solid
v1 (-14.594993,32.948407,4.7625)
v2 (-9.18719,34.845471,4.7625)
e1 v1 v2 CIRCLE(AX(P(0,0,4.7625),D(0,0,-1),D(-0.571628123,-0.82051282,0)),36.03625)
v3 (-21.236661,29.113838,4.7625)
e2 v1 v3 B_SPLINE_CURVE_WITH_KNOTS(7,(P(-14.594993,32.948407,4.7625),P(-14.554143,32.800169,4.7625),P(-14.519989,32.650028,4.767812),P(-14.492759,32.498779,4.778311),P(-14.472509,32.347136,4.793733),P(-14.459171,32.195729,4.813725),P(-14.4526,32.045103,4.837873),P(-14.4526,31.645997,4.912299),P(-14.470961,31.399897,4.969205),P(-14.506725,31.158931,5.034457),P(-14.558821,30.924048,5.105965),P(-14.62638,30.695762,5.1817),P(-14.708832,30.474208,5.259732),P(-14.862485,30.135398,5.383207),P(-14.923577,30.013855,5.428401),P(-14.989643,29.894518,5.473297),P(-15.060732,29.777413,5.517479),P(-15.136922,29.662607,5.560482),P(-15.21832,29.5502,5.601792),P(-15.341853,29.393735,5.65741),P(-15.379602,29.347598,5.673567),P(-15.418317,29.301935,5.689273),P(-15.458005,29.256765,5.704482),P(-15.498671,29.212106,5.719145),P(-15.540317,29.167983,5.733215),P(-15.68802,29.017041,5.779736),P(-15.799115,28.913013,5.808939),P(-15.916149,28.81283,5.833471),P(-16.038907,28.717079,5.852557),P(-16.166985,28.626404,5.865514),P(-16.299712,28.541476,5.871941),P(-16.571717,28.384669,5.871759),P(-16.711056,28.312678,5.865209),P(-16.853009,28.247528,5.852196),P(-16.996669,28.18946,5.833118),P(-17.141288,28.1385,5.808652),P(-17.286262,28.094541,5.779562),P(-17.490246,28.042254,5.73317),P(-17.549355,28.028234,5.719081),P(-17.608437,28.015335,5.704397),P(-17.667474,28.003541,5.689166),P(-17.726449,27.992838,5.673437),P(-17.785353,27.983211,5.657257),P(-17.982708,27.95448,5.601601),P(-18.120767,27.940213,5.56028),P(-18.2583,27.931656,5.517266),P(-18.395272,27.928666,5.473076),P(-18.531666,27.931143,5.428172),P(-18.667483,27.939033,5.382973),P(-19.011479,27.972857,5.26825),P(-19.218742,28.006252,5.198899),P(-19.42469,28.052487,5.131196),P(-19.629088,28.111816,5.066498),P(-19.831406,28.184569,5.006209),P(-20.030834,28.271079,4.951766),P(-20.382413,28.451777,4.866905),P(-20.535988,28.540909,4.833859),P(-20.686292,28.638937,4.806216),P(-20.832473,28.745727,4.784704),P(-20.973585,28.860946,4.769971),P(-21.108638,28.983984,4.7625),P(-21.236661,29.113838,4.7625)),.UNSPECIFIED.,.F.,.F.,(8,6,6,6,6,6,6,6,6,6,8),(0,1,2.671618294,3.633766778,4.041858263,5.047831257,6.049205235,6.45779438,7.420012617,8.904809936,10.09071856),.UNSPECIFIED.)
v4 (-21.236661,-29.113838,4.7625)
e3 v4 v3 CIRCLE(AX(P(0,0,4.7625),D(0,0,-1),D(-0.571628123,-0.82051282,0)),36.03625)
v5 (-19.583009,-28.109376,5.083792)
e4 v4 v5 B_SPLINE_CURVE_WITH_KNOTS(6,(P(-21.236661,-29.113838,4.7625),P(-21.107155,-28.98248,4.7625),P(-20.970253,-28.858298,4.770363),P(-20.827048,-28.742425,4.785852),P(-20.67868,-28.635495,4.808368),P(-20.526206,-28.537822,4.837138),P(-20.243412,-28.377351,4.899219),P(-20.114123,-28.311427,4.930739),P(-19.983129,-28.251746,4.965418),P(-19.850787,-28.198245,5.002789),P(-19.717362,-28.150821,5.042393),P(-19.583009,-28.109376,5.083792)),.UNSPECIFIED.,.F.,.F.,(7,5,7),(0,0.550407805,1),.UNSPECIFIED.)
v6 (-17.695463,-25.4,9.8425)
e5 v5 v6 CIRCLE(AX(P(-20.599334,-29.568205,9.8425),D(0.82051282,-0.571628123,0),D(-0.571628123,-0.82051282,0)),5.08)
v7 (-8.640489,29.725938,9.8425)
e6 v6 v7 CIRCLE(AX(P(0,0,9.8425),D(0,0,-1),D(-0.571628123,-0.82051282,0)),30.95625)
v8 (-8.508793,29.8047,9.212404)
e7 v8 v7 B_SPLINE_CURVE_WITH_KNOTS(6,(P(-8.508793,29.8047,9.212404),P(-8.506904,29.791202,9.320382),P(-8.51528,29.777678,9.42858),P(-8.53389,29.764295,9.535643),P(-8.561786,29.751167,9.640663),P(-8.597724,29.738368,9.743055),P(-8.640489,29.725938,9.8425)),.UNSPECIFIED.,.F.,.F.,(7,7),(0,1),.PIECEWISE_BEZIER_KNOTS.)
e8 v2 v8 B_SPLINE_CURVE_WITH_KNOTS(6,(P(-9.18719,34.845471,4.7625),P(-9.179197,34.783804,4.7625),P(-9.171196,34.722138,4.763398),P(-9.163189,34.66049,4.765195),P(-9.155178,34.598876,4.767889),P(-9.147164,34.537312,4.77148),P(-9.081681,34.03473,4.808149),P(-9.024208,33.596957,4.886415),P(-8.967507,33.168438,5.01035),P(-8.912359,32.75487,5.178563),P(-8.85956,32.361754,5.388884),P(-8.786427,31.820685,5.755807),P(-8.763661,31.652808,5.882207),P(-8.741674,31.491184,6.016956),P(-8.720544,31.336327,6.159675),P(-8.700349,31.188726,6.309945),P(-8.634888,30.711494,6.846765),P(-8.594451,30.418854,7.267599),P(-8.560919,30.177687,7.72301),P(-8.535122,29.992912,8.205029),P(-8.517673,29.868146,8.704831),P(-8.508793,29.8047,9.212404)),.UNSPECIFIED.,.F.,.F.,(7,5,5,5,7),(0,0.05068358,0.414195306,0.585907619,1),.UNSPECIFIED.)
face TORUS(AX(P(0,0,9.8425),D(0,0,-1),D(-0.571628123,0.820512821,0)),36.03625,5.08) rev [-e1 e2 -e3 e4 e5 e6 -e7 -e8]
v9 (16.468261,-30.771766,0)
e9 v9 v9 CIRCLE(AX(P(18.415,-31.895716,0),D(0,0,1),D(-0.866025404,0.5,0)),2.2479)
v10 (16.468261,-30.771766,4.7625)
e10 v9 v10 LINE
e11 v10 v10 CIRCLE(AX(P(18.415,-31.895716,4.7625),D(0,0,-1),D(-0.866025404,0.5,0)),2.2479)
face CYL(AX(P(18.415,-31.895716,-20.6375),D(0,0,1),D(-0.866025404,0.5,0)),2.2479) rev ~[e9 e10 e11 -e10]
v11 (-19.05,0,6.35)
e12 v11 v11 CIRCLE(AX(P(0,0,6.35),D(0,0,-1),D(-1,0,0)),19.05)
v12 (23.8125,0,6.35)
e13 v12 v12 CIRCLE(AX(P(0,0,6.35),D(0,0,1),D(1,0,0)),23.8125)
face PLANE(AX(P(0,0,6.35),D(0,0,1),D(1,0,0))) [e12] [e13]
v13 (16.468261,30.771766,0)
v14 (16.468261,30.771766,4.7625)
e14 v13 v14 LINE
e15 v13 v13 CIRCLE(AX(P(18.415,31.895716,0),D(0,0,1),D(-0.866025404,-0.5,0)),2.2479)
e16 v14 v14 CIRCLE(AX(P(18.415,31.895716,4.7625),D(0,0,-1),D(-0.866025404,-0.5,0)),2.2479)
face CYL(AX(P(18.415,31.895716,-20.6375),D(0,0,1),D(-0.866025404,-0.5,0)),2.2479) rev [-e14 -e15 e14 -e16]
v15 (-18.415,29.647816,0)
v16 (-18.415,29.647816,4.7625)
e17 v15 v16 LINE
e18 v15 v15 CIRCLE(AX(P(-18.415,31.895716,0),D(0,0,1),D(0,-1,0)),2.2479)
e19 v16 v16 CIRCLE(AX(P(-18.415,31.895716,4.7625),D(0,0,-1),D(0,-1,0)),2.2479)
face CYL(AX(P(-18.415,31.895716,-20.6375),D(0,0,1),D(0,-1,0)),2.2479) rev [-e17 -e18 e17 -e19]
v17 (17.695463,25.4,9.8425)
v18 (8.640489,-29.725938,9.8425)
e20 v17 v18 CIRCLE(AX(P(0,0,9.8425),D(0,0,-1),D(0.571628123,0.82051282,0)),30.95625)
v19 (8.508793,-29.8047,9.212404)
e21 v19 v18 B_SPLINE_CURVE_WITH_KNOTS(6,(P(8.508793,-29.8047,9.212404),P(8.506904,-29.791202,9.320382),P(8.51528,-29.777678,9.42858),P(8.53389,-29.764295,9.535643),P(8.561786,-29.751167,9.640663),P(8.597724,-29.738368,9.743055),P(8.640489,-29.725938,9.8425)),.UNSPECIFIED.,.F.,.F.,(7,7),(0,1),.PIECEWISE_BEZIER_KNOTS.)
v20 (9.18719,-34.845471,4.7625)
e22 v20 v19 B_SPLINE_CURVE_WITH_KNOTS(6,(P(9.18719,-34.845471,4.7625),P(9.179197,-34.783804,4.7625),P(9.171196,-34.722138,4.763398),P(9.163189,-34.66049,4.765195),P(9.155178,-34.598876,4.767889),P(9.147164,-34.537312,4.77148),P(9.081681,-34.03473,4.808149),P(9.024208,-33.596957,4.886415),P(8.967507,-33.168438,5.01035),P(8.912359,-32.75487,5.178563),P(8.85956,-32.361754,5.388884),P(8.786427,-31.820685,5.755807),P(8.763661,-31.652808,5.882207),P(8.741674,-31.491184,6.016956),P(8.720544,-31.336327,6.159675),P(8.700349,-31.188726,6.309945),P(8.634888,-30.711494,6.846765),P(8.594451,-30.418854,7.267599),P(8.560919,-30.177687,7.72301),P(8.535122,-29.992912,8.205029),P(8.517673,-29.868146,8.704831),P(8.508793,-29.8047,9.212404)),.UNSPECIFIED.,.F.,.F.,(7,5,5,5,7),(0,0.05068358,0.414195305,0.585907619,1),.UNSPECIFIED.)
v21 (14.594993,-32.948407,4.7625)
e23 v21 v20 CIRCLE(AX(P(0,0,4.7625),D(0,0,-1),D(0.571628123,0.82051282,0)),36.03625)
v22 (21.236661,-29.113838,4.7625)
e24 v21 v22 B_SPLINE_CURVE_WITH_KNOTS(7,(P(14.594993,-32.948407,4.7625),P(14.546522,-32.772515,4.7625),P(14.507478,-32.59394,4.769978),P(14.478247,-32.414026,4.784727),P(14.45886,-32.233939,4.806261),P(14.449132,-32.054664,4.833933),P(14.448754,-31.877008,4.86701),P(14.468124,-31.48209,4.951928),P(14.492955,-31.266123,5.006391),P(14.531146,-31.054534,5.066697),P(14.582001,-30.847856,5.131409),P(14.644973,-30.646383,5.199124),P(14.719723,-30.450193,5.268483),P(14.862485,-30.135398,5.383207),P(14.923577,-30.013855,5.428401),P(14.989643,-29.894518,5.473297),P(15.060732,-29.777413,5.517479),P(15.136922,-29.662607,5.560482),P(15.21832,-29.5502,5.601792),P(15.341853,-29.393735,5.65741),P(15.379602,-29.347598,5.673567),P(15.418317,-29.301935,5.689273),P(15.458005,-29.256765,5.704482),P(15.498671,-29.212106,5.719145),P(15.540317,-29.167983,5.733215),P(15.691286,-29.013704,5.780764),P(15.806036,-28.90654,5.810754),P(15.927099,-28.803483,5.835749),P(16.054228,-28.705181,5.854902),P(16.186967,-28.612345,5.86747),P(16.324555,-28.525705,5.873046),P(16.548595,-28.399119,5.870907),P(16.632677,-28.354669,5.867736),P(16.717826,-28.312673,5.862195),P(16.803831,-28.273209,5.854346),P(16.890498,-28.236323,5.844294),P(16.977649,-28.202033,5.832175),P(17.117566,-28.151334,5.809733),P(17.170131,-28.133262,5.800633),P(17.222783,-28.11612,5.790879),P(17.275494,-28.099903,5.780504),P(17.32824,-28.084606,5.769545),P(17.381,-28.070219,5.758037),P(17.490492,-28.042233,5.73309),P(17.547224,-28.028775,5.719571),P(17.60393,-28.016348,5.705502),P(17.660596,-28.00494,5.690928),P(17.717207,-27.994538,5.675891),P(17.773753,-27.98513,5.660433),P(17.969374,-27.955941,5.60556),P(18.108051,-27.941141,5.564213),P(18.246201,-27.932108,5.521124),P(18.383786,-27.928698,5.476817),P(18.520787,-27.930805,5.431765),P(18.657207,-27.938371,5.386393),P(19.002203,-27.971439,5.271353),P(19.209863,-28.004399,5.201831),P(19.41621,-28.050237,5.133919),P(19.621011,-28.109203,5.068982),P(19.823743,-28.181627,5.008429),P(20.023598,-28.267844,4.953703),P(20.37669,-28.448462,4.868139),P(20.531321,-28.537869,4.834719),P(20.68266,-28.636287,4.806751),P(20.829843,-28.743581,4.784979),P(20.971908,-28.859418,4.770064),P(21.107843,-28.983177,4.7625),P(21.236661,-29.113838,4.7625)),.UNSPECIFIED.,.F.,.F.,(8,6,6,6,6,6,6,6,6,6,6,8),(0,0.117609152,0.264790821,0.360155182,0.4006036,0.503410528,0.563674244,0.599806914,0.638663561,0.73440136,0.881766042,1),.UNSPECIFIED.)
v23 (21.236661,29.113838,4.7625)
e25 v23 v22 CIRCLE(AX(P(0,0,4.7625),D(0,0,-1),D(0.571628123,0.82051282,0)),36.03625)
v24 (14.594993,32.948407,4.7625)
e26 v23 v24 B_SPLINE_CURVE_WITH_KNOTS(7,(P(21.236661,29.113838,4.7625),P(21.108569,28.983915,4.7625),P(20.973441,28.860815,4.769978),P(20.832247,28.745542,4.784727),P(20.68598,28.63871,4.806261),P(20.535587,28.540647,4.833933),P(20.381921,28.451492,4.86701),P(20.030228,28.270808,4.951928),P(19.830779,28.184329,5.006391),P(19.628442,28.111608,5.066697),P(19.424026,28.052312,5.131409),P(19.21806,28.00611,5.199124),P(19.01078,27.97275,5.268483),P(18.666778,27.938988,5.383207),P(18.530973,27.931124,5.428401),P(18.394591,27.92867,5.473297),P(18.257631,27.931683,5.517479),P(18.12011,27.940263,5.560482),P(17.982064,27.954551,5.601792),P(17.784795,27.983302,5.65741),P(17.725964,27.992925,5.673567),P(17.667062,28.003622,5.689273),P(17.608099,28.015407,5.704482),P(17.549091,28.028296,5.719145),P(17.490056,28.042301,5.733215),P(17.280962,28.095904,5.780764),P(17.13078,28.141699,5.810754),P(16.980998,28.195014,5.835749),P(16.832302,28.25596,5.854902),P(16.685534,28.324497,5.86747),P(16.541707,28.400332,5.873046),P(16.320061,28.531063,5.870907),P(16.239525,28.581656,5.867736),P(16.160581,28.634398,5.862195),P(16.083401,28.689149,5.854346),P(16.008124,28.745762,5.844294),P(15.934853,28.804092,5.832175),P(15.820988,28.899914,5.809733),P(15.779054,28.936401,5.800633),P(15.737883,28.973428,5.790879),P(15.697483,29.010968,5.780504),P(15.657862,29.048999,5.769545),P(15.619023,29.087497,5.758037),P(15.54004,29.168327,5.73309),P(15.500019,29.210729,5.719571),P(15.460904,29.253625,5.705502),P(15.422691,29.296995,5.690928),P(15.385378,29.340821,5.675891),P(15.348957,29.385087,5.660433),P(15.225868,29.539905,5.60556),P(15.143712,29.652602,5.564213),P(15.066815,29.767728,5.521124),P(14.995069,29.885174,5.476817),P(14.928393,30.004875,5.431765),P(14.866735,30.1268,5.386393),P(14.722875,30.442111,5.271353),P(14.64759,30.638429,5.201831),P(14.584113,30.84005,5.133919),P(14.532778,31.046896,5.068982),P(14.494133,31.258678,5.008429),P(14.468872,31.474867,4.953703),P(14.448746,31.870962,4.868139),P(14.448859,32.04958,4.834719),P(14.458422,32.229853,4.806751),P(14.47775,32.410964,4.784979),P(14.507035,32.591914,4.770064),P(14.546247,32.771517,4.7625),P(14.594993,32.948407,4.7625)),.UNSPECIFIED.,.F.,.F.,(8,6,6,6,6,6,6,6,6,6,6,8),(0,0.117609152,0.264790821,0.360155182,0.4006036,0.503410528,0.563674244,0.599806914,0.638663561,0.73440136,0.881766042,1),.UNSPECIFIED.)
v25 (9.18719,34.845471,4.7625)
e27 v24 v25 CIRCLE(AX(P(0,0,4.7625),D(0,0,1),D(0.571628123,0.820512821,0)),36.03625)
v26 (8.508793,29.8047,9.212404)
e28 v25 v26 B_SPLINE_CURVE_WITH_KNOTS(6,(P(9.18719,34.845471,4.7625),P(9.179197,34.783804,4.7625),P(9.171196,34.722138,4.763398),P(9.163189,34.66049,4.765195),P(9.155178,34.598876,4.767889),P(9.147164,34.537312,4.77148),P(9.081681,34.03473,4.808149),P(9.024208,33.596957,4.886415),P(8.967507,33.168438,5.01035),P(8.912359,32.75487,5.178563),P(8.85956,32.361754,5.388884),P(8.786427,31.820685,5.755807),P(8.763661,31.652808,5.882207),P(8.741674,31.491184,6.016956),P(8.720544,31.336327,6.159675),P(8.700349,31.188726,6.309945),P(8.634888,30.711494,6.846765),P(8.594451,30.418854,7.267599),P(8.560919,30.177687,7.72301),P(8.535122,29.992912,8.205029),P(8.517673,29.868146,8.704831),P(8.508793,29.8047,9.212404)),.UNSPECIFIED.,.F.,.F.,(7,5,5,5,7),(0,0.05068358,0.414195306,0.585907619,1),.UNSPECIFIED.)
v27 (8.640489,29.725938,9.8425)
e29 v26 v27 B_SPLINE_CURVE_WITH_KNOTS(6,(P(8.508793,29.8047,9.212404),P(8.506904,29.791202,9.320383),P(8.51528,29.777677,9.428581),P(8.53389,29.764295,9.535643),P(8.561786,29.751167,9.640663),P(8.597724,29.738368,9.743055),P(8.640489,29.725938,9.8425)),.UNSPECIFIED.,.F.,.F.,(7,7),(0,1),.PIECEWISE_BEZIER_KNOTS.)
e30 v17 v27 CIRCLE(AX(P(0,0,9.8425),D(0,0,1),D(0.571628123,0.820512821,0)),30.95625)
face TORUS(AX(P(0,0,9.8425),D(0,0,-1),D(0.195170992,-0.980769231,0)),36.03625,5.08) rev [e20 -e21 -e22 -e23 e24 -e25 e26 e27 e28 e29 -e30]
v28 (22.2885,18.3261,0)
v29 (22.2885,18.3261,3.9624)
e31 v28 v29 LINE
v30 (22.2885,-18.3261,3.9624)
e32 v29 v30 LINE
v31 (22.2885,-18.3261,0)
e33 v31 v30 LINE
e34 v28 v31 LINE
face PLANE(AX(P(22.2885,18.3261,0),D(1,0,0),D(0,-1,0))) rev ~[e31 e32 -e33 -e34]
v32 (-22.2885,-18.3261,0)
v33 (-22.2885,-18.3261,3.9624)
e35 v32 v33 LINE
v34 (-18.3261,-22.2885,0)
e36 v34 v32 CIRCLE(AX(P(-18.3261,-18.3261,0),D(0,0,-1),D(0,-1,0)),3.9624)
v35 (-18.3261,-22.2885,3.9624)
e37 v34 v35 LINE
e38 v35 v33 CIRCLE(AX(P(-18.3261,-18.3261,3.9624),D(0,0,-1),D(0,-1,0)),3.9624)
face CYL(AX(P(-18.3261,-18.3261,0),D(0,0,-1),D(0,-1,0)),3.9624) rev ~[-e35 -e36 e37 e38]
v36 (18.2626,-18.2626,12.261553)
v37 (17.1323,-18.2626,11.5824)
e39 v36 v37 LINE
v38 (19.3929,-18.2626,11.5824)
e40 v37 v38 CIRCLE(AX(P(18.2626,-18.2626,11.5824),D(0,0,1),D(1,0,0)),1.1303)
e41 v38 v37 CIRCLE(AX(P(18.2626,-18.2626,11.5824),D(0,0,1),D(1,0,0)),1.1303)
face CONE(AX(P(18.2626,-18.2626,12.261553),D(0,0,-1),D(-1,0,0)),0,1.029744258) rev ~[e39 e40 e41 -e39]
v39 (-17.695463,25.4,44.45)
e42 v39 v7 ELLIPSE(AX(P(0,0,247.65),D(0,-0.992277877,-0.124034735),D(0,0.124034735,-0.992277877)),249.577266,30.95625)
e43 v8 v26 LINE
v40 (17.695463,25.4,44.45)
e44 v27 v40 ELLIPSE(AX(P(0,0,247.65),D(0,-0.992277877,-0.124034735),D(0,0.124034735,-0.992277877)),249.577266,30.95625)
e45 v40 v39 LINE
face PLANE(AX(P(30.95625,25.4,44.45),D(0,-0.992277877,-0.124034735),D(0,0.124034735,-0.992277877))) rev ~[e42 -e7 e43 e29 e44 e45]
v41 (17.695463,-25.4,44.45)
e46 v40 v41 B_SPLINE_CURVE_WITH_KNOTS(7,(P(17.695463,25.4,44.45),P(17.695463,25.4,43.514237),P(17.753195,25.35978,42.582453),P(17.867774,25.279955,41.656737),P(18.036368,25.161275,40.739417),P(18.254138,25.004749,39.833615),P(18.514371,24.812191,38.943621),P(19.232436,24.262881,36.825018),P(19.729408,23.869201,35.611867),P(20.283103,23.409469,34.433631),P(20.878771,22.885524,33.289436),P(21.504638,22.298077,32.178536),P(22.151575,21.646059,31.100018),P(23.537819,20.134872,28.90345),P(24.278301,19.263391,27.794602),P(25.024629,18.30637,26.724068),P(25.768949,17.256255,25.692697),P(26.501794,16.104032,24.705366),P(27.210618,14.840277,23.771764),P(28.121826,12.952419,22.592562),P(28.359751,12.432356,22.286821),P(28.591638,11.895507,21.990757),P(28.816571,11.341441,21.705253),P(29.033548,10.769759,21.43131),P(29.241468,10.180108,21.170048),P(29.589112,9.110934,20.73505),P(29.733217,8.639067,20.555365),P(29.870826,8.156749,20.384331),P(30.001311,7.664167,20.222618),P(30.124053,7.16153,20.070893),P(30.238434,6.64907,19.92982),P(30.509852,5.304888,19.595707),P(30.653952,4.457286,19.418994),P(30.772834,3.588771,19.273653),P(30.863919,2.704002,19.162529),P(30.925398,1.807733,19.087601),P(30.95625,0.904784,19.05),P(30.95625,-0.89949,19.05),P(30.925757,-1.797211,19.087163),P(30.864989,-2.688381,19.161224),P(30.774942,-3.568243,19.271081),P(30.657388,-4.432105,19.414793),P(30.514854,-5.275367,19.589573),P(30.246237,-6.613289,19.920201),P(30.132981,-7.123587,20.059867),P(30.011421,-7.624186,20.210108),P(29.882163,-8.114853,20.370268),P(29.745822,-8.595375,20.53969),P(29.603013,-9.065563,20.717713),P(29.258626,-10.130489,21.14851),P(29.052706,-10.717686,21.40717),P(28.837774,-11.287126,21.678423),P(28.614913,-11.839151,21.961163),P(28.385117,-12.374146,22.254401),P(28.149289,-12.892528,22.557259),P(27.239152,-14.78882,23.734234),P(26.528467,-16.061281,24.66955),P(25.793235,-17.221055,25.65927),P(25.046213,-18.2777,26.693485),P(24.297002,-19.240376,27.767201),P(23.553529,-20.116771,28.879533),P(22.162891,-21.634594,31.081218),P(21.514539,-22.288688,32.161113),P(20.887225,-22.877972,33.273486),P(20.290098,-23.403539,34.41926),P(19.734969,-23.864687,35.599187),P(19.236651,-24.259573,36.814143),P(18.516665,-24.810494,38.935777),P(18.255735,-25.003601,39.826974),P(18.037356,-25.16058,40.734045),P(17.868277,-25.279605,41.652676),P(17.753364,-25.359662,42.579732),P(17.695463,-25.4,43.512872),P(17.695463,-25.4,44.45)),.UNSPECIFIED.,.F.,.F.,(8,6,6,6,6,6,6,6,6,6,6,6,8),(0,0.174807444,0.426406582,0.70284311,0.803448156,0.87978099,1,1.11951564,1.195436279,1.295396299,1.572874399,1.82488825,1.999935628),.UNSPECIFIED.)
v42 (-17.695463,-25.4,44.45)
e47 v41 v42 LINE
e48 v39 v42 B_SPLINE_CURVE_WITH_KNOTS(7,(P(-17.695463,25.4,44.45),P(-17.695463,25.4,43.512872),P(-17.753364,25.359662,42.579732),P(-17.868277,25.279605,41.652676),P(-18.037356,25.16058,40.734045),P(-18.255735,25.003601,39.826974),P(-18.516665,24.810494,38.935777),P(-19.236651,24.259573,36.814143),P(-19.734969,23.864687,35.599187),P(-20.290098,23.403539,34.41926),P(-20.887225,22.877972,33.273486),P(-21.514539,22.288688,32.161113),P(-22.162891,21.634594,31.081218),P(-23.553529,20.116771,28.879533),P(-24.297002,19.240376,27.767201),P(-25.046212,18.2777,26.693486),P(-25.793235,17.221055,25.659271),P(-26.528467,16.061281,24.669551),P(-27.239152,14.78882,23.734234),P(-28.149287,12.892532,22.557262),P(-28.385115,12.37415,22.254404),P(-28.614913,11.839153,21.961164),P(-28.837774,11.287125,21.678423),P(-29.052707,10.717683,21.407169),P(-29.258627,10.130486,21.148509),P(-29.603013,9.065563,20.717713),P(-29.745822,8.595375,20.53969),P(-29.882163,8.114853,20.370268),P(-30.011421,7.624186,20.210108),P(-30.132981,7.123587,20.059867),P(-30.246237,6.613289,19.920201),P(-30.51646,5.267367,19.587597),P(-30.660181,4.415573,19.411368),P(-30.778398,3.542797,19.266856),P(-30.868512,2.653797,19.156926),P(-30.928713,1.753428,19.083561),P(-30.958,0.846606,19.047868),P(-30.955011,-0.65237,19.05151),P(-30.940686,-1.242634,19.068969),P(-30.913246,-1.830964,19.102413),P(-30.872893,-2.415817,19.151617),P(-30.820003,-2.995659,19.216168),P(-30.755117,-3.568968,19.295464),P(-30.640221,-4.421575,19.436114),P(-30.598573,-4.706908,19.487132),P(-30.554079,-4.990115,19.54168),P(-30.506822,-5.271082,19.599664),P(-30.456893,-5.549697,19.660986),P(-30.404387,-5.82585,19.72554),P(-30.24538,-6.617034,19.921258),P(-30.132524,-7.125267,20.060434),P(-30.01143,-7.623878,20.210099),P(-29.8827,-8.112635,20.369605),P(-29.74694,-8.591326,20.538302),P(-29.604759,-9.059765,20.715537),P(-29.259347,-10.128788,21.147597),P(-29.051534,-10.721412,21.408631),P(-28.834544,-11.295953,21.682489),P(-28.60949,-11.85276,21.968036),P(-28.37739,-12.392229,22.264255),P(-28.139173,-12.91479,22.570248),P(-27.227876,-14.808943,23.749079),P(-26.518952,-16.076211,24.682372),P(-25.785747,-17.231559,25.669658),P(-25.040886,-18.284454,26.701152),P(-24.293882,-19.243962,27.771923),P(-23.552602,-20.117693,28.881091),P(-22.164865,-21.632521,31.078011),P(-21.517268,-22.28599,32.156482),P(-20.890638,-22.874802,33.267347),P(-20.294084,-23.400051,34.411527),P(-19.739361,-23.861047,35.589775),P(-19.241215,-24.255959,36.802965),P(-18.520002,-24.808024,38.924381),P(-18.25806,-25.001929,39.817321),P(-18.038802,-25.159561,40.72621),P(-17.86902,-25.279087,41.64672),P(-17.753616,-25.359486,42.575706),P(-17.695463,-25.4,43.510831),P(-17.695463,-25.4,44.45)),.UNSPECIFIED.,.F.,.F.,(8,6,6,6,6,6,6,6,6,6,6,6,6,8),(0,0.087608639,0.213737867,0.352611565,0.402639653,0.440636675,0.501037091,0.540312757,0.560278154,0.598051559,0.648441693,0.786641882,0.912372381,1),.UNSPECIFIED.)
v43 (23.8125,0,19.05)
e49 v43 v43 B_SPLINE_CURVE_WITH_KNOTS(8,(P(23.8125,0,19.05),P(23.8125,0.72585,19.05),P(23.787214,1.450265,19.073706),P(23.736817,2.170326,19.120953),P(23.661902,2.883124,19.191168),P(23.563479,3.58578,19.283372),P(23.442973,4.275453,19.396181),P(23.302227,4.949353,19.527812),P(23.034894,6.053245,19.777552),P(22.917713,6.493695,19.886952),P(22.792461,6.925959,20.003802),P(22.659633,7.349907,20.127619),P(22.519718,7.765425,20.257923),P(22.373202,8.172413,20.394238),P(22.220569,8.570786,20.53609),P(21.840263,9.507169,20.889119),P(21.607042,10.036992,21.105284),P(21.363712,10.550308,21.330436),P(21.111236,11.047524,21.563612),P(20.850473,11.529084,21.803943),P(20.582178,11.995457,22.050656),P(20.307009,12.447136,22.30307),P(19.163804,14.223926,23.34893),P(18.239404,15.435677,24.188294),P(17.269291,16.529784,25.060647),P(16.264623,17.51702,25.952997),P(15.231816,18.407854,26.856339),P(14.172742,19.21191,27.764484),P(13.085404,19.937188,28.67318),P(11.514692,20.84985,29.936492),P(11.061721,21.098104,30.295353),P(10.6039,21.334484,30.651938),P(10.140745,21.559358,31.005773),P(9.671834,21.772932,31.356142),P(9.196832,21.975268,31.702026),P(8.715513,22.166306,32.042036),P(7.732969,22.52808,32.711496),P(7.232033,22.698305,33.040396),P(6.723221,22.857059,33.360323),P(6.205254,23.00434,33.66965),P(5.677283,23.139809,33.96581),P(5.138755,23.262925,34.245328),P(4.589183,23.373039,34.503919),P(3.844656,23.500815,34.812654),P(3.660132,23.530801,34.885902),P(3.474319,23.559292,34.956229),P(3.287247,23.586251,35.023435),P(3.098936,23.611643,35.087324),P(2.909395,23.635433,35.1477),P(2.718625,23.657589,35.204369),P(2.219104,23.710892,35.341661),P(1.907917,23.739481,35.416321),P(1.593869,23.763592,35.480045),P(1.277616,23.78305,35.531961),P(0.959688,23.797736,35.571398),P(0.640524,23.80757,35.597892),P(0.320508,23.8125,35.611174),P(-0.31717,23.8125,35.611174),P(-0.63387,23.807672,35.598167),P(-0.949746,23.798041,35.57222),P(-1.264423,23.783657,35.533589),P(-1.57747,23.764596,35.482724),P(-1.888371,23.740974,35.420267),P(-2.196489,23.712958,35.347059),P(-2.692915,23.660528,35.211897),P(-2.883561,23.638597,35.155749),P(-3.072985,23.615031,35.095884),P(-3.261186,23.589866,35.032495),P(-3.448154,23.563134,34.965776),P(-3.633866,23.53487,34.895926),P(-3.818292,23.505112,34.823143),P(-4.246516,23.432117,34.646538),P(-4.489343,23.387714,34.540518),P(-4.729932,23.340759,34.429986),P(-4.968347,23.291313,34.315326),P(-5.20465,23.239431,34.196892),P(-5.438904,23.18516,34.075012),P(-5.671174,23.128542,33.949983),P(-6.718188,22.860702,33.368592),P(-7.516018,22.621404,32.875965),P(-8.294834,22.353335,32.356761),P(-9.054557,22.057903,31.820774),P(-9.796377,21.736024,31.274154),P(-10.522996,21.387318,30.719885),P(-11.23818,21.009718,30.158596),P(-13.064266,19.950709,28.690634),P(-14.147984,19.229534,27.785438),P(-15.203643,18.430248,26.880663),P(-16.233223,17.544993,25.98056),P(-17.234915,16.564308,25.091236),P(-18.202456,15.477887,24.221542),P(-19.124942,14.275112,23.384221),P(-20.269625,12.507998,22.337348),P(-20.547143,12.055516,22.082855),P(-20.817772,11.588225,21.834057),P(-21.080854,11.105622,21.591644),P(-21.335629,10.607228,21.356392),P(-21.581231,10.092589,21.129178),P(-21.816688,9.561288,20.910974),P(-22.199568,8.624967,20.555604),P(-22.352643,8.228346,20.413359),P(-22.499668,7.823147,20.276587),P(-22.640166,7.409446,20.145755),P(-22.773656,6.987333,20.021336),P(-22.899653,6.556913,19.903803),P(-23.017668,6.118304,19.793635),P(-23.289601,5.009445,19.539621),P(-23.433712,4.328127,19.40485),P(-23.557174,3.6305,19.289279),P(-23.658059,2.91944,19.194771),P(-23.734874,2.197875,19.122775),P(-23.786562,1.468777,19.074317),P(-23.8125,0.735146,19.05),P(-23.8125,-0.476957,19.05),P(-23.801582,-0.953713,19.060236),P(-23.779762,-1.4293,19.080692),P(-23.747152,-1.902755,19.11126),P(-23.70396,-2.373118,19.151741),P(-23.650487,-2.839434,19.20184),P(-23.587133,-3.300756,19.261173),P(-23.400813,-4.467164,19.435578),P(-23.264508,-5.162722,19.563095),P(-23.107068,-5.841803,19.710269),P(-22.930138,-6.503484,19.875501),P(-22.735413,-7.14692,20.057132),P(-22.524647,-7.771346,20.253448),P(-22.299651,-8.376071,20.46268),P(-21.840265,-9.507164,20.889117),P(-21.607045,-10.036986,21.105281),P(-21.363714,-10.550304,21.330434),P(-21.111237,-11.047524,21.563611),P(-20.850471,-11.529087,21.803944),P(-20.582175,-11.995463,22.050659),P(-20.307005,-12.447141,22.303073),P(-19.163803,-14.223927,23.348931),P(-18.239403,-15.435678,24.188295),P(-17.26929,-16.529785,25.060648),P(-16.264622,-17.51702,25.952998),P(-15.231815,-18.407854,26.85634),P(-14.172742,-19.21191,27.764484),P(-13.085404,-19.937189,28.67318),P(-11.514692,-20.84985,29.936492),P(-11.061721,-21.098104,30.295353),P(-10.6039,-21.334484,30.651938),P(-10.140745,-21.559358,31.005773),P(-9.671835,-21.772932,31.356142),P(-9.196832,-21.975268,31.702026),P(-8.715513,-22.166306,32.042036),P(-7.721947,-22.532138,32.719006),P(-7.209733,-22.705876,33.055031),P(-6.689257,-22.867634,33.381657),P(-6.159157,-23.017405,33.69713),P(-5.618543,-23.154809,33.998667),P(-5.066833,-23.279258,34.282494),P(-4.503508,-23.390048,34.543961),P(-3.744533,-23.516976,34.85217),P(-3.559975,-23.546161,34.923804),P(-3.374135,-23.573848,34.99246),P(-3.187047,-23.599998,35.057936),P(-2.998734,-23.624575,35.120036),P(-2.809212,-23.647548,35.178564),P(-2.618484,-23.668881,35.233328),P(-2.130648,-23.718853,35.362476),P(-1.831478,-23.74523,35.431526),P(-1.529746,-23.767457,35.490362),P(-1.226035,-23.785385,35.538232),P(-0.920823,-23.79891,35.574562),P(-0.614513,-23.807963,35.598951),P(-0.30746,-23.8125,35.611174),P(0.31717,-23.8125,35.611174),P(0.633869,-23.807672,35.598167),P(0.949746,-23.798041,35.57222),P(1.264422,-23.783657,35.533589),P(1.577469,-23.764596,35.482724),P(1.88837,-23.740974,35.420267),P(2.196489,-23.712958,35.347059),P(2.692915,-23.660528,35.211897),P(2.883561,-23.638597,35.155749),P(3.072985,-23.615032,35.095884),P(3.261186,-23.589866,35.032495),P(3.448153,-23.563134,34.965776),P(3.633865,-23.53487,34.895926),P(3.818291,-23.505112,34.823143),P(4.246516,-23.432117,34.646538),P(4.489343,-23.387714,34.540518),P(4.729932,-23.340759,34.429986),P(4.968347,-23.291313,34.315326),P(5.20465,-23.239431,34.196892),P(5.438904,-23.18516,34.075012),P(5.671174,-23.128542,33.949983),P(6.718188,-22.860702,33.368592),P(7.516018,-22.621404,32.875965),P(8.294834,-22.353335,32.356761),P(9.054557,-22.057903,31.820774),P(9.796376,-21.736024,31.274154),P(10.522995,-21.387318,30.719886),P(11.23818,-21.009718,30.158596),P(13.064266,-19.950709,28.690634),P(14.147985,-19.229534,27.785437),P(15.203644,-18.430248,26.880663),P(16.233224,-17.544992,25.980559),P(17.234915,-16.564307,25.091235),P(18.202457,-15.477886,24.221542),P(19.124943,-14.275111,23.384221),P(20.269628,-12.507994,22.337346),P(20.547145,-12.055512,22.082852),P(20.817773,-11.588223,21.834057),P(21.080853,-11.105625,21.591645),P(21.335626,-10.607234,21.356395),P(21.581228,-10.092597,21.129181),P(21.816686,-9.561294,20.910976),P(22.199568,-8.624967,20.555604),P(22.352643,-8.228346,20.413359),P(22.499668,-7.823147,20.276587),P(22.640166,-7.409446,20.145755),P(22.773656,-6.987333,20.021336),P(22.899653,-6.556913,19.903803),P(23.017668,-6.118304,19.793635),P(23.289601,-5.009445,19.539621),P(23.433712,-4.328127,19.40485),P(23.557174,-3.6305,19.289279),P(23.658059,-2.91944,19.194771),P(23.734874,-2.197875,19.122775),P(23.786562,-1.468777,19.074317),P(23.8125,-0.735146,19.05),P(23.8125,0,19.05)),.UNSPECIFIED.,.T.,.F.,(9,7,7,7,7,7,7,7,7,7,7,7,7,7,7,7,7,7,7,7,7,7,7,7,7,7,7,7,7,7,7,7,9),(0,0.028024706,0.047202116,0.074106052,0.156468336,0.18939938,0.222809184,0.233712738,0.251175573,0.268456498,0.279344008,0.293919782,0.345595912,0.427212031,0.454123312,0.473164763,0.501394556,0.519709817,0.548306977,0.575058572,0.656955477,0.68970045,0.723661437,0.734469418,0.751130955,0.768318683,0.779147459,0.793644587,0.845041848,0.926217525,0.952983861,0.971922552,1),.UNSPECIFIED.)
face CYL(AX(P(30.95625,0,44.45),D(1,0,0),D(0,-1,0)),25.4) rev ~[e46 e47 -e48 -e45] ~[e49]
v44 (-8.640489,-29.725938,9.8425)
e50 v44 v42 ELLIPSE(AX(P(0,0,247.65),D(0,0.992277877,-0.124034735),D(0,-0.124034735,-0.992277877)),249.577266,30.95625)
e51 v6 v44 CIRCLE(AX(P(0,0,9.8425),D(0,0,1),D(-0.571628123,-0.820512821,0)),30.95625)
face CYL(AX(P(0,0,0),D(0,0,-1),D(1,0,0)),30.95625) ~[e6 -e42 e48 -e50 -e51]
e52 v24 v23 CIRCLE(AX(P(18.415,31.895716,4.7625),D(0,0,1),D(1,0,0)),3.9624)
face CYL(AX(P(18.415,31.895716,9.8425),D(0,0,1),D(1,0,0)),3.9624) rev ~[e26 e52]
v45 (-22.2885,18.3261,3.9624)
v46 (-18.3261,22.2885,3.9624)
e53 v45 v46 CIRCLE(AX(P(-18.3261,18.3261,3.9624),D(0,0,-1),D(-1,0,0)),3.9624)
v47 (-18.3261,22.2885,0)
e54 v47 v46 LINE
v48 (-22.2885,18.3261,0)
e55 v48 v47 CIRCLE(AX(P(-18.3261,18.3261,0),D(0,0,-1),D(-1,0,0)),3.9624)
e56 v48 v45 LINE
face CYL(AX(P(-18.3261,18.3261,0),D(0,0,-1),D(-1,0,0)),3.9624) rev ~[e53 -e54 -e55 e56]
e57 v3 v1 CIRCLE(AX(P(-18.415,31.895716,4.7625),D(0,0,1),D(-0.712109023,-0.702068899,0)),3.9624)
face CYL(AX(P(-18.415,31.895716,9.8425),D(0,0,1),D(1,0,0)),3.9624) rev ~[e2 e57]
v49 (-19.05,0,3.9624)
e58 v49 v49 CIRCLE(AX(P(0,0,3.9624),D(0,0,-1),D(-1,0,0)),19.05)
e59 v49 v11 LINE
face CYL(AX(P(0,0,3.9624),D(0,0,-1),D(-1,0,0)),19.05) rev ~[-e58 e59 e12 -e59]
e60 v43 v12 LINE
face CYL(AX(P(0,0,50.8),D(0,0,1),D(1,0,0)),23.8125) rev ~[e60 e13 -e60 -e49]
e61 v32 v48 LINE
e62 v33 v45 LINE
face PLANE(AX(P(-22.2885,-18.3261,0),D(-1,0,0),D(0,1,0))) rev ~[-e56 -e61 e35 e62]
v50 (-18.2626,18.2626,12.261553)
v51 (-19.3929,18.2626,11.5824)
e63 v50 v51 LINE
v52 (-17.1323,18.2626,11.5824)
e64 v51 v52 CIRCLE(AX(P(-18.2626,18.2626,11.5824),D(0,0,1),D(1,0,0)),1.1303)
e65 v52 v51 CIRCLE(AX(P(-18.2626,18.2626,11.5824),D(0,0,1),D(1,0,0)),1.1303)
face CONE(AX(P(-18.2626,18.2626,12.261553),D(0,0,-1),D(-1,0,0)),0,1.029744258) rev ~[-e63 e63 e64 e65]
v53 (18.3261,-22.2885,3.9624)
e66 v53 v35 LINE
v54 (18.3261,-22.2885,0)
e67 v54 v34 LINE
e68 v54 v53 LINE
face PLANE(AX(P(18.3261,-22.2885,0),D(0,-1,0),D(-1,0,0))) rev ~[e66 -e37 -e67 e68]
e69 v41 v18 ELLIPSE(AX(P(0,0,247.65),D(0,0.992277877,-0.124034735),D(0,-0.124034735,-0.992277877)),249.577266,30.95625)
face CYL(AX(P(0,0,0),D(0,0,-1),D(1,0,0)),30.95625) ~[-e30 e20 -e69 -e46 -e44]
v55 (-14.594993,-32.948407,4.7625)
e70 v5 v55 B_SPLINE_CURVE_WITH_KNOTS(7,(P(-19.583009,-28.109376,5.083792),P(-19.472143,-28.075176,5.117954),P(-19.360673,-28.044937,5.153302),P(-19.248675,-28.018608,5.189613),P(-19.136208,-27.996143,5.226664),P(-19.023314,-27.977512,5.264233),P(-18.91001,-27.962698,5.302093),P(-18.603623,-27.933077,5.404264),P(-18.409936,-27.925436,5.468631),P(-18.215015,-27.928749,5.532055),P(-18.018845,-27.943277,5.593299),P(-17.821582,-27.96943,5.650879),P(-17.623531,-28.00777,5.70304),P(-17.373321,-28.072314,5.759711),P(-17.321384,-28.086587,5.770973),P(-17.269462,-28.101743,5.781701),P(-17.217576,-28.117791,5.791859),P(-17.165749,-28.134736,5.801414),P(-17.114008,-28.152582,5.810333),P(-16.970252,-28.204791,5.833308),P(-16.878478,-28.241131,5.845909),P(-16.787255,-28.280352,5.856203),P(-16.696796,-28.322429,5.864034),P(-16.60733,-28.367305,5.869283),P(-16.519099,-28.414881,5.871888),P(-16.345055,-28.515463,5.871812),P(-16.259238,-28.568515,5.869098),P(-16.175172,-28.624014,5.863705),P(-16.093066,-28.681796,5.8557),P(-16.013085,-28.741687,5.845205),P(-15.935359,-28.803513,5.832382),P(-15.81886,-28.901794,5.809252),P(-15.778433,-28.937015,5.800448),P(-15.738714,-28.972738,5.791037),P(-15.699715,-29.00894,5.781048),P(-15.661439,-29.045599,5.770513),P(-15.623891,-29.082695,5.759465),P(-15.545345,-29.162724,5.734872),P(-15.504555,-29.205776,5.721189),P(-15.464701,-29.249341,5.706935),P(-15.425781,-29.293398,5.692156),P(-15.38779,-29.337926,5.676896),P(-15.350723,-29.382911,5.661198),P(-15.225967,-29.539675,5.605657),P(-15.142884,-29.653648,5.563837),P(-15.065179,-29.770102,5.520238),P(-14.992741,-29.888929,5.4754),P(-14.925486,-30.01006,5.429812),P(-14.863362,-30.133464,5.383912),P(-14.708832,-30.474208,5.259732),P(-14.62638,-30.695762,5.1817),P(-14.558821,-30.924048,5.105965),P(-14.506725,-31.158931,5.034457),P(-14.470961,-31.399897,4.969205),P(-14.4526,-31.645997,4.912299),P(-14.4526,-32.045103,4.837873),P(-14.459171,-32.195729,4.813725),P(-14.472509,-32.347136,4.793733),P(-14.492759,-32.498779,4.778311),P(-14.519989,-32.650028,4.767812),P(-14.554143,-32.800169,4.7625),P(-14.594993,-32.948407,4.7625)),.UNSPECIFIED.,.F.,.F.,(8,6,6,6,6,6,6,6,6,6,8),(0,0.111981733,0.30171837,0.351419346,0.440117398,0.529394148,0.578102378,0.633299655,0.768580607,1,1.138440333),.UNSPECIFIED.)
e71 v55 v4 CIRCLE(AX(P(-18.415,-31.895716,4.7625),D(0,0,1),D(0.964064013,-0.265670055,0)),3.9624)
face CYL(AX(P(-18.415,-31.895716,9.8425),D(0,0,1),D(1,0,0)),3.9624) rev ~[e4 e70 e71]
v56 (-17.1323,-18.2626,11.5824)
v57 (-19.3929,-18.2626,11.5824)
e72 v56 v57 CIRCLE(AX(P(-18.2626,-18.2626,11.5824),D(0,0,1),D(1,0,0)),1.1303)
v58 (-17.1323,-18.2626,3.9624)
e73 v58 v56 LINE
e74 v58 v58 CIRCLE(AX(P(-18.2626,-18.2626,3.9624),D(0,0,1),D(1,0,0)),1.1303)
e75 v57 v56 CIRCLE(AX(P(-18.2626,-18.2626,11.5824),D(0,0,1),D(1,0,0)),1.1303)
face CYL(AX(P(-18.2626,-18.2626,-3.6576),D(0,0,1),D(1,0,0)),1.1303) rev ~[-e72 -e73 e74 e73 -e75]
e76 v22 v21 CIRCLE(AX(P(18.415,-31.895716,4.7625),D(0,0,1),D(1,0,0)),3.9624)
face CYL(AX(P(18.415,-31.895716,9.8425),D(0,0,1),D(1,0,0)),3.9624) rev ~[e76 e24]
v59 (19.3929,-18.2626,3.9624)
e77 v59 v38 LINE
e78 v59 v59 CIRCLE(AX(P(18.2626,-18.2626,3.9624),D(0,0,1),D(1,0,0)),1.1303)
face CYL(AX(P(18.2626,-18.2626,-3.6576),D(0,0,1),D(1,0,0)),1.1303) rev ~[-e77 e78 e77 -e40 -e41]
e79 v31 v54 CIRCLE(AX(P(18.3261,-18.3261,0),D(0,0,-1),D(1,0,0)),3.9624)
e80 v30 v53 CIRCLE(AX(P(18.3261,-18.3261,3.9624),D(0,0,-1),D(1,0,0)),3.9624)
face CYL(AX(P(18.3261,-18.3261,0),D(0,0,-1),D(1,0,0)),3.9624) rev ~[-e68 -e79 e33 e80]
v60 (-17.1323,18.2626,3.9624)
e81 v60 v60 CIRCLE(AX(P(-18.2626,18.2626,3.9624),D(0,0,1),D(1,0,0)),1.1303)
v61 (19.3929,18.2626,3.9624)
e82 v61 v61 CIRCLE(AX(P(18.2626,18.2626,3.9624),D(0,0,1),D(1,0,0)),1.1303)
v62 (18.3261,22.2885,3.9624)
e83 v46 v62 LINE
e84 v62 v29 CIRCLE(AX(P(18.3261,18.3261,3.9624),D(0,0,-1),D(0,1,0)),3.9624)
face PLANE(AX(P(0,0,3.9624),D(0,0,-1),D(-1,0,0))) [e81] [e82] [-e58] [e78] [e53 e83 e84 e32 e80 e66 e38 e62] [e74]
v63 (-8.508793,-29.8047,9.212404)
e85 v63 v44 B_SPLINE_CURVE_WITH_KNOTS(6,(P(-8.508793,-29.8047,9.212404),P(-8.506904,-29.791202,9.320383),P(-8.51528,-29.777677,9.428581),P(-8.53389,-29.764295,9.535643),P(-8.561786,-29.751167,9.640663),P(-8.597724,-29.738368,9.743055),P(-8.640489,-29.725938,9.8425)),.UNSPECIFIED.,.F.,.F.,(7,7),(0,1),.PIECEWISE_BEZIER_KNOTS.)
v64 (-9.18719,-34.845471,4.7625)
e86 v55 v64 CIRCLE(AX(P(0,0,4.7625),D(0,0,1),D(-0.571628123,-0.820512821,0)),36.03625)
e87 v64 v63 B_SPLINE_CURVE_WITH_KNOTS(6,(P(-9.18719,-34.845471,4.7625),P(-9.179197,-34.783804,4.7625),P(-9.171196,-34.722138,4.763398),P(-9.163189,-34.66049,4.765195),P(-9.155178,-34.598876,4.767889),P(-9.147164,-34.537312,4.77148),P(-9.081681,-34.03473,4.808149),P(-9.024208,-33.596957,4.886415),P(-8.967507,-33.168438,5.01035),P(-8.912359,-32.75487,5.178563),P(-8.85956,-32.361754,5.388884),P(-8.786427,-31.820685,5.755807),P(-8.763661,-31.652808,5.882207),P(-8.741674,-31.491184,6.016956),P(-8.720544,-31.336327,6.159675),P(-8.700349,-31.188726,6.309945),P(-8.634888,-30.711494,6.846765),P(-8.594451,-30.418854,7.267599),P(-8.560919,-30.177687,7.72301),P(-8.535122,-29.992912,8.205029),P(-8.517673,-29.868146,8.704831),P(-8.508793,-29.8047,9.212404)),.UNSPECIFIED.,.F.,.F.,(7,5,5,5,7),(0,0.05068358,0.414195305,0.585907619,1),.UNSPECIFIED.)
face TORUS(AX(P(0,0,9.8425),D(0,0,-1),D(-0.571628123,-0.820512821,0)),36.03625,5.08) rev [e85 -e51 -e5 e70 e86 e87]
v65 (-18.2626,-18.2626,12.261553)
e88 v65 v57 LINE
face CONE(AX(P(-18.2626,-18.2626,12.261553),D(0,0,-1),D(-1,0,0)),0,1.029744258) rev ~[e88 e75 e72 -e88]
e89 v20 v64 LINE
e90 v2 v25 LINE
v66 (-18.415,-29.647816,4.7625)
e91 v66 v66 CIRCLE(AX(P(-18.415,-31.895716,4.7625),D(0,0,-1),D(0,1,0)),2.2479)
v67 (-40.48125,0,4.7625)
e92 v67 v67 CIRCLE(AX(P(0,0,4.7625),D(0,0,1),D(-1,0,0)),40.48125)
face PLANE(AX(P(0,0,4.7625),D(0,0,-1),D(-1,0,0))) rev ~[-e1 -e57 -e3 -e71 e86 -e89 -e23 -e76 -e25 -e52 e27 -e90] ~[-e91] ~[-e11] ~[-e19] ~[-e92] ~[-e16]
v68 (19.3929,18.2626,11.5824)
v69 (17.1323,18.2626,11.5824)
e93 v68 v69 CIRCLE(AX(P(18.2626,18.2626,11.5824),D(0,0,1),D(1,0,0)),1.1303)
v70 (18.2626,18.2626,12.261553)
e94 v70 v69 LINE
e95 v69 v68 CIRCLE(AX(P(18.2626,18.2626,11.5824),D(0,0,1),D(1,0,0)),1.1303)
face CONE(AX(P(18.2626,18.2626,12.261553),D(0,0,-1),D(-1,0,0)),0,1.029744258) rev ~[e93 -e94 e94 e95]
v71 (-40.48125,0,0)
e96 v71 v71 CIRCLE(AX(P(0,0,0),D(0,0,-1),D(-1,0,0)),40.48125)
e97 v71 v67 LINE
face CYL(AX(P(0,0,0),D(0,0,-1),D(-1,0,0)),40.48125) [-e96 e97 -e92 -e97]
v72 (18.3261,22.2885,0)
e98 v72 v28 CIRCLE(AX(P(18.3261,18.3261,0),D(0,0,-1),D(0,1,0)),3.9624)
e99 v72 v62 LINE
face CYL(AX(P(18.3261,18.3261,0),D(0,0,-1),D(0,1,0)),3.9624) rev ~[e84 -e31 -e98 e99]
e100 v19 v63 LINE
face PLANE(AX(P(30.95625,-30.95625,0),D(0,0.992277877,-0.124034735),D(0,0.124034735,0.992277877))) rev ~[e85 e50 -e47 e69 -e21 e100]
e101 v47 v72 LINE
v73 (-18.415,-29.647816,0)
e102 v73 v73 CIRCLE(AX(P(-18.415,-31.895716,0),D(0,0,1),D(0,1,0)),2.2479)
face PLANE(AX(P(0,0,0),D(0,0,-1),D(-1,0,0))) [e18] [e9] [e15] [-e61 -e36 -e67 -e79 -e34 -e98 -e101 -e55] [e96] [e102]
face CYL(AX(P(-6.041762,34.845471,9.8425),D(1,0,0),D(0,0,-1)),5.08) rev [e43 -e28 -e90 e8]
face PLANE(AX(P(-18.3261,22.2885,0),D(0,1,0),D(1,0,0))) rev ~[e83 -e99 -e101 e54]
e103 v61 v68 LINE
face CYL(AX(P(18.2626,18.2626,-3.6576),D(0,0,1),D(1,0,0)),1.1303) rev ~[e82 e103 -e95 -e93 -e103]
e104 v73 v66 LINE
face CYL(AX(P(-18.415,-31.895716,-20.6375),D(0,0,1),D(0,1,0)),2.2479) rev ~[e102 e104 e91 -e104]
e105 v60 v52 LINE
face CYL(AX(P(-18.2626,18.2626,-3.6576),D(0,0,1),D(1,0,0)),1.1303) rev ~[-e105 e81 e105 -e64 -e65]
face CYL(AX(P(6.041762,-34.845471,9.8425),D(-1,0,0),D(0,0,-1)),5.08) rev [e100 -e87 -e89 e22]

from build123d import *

# Parameters (mm, degrees)
SKETCH1_R                 = 30.95625
BOSS_EXTRUDE1_DEPTH       = 50.8
CUT_EXTRUDE1_DEPTH        = 3.9624
CUT_EXTRUDE2_DEPTH        = 86.860858779
SKETCH4_R                 = 19.05
CUT_EXTRUDE3_DEPTH        = 60.630735383
SKETCH6_R                 = 23.8125
CUT_EXTRUDE4_DEPTH        = 44.45
F_4_40_TAPPED_HOLE1_D     = 2.2606
F_4_40_TAPPED_HOLE1_DEPTH = 7.62
F_4_40_TAPPED_HOLE1_TIP   = 0.679152758
SKETCH10_R                = 40.48125
BOSS_EXTRUDE3_DEPTH       = 4.7625
FILLET1_R                 = 5.08
CIRPATTERN1_COUNT         = 2
CIRPATTERN1_ANGLE         = 60
SKETCH15_R                = 3.9624
CUT_EXTRUDE5_DEPTH        = 5.08


with BuildPart() as part:
    # Sketch1 → Boss-Extrude1 (new body)
    with BuildSketch(Plane.XY):
        Circle(SKETCH1_R)
    extrude(amount=BOSS_EXTRUDE1_DEPTH)

    # Sketch2 → Cut-Extrude1 (cut)
    with BuildSketch(Plane(origin=(0, 0, 0), x_dir=(-1, 0, 0), z_dir=(0, 0, -1))):
        with BuildLine():
            Line((-18.3261, -22.2885), (18.3261, -22.2885))
            ThreePointArc((18.3261, -22.2885), (21.12793991, -21.12793991), (22.2885, -18.3261))
            Line((22.2885, -18.3261), (22.2885, 18.3261))
            ThreePointArc((22.2885, 18.3261), (21.12793991, 21.12793991), (18.3261, 22.2885))
            Line((18.3261, 22.2885), (-18.3261, 22.2885))
            ThreePointArc((-18.3261, 22.2885), (-21.12793991, 21.12793991), (-22.2885, 18.3261))
            Line((-22.2885, 18.3261), (-22.2885, -18.3261))
            ThreePointArc((-22.2885, -18.3261), (-21.12793991, -21.12793991), (-18.3261, -22.2885))
        make_face()
    extrude(amount=-CUT_EXTRUDE1_DEPTH, mode=Mode.SUBTRACT)

    # Sketch3 → Cut-Extrude2 (cut, through all)
    with BuildSketch(Plane(origin=(30.95625, 0, 0), x_dir=(0, 0, -1), z_dir=(1, 0, 0))):
        with BuildLine():
            Line((-44.45, 25.4), (0, 30.95625))
            Line((0, 30.95625), (-50.8, 30.95625))
            Line((-50.8, 30.95625), (-50.8, -30.95625))
            Line((-50.8, -30.95625), (0, -30.95625))
            Line((0, -30.95625), (-44.45, -25.4))
            ThreePointArc((-44.45, -25.4), (-19.05, 0), (-44.45, 25.4))
        make_face()
    extrude(amount=-CUT_EXTRUDE2_DEPTH, mode=Mode.SUBTRACT)

    # Sketch4 → Cut-Extrude3 (cut, through all)
    with BuildSketch(Plane(origin=(0, 0, 3.9624), x_dir=(-1, 0, 0), z_dir=(0, 0, -1))):
        Circle(SKETCH4_R)
    extrude(amount=-CUT_EXTRUDE3_DEPTH, mode=Mode.SUBTRACT)

    # Sketch6 → Cut-Extrude4 (cut)
    with BuildSketch(Plane.XY.offset(50.8)):
        Circle(SKETCH6_R)
    extrude(amount=-CUT_EXTRUDE4_DEPTH, mode=Mode.SUBTRACT)

    # #4-40 Tapped Hole1
    with Locations(Plane(origin=(0, 0, 3.9624), x_dir=(-1, 0, 0), z_dir=(0, 0, -1))):
        with Locations((-18.2626, 18.2626), (18.2626, 18.2626), (18.2626, -18.2626), (-18.2626, -18.2626)):
            Hole(F_4_40_TAPPED_HOLE1_D / 2, depth=F_4_40_TAPPED_HOLE1_DEPTH)
            with Locations((0, 0, -(F_4_40_TAPPED_HOLE1_DEPTH + F_4_40_TAPPED_HOLE1_TIP / 2))):  # 118° drill point
                Cone(0, F_4_40_TAPPED_HOLE1_D / 2, F_4_40_TAPPED_HOLE1_TIP, mode=Mode.SUBTRACT)

    # Sketch10 → Boss-Extrude3 (add)
    with BuildSketch(Plane(origin=(0, 0, 0), x_dir=(-1, 0, 0), z_dir=(0, 0, -1))):
        Circle(SKETCH10_R)
        with BuildLine():
            Line((-17.695463093, 25.4), (17.695463093, 25.4))
            ThreePointArc((17.695463093, 25.4), (30.95625, 0), (17.695463093, -25.4))
            Line((17.695463093, -25.4), (-17.695463093, -25.4))
            ThreePointArc((-17.695463093, -25.4), (-30.95625, 0), (-17.695463093, 25.4))
        make_face(mode=Mode.SUBTRACT)
    extrude(amount=-BOSS_EXTRUDE3_DEPTH)

    # Fillet1
    fillet1_edges = [part.edges().sort_by_distance(p)[0] for p in [
        (30.95625, 0, 4.7625),
        (-30.95625, 0, 4.7625),
        (0, -30.3609375, 4.7625),
        (0, 30.3609375, 4.7625),
    ]]
    fillet(fillet1_edges, radius=FILLET1_R)

    # Sketch13 → #8 Clearance Hole1 (revolve, cut)
    with BuildSketch(Plane(origin=(-18.415, 31.895715621, 4.7625), x_dir=(0, -1, 0), z_dir=(1, 0, 0))):
        Polygon((0, 0), (0, 26.750674586), (2.2479, 25.4), (2.2479, 0), align=None)
    f_8_clearance_hole1 = revolve(axis=Axis((-18.415, 31.895715621, 11.1125), (0, 0, -1)), mode=Mode.SUBTRACT)

    # CirPattern1: #8 Clearance Hole1 ×2 about axis
    cirpattern1_axis = Axis((0, 0, 4.7625), (0, 0, -1))
    for i in range(1, CIRPATTERN1_COUNT):
        add(f_8_clearance_hole1.rotate(cirpattern1_axis, i * CIRPATTERN1_ANGLE / (CIRPATTERN1_COUNT - 1)), mode=Mode.SUBTRACT)

    # Mirror1: #8 Clearance Hole1 across plane
    add(f_8_clearance_hole1.mirror(Plane.ZX), mode=Mode.SUBTRACT)

    # Mirror1 copy 1 sketch → Mirror1 copy 1 (revolve, cut)
    with BuildSketch(Plane(origin=(18.415, -31.895715621, 4.7625), x_dir=(-0.8660254037844399, 0.4999999999999978, 0), z_dir=(0.4999999999999978, 0.8660254037844399, 0))):
        Polygon((0, 0), (0, -26.750674586), (2.2479, -25.4), (2.2479, 0), align=None)
    revolve(axis=Axis((18.415, -31.895715621, 11.1125), (0, 0, 1)), mode=Mode.SUBTRACT)

    # Sketch15 → Cut-Extrude5 (cut)
    with BuildSketch(Plane.XY.offset(9.8425)):
        with Locations((-18.415, 31.895715621)):
            Circle(SKETCH15_R)
        with Locations((18.415, 31.895715621)):
            Circle(SKETCH15_R)
        with Locations((18.415, -31.895715621)):
            Circle(SKETCH15_R)
        with Locations((-18.415, -31.895715621)):
            Circle(SKETCH15_R)
    extrude(amount=-CUT_EXTRUDE5_DEPTH, mode=Mode.SUBTRACT)


solid = part.part
